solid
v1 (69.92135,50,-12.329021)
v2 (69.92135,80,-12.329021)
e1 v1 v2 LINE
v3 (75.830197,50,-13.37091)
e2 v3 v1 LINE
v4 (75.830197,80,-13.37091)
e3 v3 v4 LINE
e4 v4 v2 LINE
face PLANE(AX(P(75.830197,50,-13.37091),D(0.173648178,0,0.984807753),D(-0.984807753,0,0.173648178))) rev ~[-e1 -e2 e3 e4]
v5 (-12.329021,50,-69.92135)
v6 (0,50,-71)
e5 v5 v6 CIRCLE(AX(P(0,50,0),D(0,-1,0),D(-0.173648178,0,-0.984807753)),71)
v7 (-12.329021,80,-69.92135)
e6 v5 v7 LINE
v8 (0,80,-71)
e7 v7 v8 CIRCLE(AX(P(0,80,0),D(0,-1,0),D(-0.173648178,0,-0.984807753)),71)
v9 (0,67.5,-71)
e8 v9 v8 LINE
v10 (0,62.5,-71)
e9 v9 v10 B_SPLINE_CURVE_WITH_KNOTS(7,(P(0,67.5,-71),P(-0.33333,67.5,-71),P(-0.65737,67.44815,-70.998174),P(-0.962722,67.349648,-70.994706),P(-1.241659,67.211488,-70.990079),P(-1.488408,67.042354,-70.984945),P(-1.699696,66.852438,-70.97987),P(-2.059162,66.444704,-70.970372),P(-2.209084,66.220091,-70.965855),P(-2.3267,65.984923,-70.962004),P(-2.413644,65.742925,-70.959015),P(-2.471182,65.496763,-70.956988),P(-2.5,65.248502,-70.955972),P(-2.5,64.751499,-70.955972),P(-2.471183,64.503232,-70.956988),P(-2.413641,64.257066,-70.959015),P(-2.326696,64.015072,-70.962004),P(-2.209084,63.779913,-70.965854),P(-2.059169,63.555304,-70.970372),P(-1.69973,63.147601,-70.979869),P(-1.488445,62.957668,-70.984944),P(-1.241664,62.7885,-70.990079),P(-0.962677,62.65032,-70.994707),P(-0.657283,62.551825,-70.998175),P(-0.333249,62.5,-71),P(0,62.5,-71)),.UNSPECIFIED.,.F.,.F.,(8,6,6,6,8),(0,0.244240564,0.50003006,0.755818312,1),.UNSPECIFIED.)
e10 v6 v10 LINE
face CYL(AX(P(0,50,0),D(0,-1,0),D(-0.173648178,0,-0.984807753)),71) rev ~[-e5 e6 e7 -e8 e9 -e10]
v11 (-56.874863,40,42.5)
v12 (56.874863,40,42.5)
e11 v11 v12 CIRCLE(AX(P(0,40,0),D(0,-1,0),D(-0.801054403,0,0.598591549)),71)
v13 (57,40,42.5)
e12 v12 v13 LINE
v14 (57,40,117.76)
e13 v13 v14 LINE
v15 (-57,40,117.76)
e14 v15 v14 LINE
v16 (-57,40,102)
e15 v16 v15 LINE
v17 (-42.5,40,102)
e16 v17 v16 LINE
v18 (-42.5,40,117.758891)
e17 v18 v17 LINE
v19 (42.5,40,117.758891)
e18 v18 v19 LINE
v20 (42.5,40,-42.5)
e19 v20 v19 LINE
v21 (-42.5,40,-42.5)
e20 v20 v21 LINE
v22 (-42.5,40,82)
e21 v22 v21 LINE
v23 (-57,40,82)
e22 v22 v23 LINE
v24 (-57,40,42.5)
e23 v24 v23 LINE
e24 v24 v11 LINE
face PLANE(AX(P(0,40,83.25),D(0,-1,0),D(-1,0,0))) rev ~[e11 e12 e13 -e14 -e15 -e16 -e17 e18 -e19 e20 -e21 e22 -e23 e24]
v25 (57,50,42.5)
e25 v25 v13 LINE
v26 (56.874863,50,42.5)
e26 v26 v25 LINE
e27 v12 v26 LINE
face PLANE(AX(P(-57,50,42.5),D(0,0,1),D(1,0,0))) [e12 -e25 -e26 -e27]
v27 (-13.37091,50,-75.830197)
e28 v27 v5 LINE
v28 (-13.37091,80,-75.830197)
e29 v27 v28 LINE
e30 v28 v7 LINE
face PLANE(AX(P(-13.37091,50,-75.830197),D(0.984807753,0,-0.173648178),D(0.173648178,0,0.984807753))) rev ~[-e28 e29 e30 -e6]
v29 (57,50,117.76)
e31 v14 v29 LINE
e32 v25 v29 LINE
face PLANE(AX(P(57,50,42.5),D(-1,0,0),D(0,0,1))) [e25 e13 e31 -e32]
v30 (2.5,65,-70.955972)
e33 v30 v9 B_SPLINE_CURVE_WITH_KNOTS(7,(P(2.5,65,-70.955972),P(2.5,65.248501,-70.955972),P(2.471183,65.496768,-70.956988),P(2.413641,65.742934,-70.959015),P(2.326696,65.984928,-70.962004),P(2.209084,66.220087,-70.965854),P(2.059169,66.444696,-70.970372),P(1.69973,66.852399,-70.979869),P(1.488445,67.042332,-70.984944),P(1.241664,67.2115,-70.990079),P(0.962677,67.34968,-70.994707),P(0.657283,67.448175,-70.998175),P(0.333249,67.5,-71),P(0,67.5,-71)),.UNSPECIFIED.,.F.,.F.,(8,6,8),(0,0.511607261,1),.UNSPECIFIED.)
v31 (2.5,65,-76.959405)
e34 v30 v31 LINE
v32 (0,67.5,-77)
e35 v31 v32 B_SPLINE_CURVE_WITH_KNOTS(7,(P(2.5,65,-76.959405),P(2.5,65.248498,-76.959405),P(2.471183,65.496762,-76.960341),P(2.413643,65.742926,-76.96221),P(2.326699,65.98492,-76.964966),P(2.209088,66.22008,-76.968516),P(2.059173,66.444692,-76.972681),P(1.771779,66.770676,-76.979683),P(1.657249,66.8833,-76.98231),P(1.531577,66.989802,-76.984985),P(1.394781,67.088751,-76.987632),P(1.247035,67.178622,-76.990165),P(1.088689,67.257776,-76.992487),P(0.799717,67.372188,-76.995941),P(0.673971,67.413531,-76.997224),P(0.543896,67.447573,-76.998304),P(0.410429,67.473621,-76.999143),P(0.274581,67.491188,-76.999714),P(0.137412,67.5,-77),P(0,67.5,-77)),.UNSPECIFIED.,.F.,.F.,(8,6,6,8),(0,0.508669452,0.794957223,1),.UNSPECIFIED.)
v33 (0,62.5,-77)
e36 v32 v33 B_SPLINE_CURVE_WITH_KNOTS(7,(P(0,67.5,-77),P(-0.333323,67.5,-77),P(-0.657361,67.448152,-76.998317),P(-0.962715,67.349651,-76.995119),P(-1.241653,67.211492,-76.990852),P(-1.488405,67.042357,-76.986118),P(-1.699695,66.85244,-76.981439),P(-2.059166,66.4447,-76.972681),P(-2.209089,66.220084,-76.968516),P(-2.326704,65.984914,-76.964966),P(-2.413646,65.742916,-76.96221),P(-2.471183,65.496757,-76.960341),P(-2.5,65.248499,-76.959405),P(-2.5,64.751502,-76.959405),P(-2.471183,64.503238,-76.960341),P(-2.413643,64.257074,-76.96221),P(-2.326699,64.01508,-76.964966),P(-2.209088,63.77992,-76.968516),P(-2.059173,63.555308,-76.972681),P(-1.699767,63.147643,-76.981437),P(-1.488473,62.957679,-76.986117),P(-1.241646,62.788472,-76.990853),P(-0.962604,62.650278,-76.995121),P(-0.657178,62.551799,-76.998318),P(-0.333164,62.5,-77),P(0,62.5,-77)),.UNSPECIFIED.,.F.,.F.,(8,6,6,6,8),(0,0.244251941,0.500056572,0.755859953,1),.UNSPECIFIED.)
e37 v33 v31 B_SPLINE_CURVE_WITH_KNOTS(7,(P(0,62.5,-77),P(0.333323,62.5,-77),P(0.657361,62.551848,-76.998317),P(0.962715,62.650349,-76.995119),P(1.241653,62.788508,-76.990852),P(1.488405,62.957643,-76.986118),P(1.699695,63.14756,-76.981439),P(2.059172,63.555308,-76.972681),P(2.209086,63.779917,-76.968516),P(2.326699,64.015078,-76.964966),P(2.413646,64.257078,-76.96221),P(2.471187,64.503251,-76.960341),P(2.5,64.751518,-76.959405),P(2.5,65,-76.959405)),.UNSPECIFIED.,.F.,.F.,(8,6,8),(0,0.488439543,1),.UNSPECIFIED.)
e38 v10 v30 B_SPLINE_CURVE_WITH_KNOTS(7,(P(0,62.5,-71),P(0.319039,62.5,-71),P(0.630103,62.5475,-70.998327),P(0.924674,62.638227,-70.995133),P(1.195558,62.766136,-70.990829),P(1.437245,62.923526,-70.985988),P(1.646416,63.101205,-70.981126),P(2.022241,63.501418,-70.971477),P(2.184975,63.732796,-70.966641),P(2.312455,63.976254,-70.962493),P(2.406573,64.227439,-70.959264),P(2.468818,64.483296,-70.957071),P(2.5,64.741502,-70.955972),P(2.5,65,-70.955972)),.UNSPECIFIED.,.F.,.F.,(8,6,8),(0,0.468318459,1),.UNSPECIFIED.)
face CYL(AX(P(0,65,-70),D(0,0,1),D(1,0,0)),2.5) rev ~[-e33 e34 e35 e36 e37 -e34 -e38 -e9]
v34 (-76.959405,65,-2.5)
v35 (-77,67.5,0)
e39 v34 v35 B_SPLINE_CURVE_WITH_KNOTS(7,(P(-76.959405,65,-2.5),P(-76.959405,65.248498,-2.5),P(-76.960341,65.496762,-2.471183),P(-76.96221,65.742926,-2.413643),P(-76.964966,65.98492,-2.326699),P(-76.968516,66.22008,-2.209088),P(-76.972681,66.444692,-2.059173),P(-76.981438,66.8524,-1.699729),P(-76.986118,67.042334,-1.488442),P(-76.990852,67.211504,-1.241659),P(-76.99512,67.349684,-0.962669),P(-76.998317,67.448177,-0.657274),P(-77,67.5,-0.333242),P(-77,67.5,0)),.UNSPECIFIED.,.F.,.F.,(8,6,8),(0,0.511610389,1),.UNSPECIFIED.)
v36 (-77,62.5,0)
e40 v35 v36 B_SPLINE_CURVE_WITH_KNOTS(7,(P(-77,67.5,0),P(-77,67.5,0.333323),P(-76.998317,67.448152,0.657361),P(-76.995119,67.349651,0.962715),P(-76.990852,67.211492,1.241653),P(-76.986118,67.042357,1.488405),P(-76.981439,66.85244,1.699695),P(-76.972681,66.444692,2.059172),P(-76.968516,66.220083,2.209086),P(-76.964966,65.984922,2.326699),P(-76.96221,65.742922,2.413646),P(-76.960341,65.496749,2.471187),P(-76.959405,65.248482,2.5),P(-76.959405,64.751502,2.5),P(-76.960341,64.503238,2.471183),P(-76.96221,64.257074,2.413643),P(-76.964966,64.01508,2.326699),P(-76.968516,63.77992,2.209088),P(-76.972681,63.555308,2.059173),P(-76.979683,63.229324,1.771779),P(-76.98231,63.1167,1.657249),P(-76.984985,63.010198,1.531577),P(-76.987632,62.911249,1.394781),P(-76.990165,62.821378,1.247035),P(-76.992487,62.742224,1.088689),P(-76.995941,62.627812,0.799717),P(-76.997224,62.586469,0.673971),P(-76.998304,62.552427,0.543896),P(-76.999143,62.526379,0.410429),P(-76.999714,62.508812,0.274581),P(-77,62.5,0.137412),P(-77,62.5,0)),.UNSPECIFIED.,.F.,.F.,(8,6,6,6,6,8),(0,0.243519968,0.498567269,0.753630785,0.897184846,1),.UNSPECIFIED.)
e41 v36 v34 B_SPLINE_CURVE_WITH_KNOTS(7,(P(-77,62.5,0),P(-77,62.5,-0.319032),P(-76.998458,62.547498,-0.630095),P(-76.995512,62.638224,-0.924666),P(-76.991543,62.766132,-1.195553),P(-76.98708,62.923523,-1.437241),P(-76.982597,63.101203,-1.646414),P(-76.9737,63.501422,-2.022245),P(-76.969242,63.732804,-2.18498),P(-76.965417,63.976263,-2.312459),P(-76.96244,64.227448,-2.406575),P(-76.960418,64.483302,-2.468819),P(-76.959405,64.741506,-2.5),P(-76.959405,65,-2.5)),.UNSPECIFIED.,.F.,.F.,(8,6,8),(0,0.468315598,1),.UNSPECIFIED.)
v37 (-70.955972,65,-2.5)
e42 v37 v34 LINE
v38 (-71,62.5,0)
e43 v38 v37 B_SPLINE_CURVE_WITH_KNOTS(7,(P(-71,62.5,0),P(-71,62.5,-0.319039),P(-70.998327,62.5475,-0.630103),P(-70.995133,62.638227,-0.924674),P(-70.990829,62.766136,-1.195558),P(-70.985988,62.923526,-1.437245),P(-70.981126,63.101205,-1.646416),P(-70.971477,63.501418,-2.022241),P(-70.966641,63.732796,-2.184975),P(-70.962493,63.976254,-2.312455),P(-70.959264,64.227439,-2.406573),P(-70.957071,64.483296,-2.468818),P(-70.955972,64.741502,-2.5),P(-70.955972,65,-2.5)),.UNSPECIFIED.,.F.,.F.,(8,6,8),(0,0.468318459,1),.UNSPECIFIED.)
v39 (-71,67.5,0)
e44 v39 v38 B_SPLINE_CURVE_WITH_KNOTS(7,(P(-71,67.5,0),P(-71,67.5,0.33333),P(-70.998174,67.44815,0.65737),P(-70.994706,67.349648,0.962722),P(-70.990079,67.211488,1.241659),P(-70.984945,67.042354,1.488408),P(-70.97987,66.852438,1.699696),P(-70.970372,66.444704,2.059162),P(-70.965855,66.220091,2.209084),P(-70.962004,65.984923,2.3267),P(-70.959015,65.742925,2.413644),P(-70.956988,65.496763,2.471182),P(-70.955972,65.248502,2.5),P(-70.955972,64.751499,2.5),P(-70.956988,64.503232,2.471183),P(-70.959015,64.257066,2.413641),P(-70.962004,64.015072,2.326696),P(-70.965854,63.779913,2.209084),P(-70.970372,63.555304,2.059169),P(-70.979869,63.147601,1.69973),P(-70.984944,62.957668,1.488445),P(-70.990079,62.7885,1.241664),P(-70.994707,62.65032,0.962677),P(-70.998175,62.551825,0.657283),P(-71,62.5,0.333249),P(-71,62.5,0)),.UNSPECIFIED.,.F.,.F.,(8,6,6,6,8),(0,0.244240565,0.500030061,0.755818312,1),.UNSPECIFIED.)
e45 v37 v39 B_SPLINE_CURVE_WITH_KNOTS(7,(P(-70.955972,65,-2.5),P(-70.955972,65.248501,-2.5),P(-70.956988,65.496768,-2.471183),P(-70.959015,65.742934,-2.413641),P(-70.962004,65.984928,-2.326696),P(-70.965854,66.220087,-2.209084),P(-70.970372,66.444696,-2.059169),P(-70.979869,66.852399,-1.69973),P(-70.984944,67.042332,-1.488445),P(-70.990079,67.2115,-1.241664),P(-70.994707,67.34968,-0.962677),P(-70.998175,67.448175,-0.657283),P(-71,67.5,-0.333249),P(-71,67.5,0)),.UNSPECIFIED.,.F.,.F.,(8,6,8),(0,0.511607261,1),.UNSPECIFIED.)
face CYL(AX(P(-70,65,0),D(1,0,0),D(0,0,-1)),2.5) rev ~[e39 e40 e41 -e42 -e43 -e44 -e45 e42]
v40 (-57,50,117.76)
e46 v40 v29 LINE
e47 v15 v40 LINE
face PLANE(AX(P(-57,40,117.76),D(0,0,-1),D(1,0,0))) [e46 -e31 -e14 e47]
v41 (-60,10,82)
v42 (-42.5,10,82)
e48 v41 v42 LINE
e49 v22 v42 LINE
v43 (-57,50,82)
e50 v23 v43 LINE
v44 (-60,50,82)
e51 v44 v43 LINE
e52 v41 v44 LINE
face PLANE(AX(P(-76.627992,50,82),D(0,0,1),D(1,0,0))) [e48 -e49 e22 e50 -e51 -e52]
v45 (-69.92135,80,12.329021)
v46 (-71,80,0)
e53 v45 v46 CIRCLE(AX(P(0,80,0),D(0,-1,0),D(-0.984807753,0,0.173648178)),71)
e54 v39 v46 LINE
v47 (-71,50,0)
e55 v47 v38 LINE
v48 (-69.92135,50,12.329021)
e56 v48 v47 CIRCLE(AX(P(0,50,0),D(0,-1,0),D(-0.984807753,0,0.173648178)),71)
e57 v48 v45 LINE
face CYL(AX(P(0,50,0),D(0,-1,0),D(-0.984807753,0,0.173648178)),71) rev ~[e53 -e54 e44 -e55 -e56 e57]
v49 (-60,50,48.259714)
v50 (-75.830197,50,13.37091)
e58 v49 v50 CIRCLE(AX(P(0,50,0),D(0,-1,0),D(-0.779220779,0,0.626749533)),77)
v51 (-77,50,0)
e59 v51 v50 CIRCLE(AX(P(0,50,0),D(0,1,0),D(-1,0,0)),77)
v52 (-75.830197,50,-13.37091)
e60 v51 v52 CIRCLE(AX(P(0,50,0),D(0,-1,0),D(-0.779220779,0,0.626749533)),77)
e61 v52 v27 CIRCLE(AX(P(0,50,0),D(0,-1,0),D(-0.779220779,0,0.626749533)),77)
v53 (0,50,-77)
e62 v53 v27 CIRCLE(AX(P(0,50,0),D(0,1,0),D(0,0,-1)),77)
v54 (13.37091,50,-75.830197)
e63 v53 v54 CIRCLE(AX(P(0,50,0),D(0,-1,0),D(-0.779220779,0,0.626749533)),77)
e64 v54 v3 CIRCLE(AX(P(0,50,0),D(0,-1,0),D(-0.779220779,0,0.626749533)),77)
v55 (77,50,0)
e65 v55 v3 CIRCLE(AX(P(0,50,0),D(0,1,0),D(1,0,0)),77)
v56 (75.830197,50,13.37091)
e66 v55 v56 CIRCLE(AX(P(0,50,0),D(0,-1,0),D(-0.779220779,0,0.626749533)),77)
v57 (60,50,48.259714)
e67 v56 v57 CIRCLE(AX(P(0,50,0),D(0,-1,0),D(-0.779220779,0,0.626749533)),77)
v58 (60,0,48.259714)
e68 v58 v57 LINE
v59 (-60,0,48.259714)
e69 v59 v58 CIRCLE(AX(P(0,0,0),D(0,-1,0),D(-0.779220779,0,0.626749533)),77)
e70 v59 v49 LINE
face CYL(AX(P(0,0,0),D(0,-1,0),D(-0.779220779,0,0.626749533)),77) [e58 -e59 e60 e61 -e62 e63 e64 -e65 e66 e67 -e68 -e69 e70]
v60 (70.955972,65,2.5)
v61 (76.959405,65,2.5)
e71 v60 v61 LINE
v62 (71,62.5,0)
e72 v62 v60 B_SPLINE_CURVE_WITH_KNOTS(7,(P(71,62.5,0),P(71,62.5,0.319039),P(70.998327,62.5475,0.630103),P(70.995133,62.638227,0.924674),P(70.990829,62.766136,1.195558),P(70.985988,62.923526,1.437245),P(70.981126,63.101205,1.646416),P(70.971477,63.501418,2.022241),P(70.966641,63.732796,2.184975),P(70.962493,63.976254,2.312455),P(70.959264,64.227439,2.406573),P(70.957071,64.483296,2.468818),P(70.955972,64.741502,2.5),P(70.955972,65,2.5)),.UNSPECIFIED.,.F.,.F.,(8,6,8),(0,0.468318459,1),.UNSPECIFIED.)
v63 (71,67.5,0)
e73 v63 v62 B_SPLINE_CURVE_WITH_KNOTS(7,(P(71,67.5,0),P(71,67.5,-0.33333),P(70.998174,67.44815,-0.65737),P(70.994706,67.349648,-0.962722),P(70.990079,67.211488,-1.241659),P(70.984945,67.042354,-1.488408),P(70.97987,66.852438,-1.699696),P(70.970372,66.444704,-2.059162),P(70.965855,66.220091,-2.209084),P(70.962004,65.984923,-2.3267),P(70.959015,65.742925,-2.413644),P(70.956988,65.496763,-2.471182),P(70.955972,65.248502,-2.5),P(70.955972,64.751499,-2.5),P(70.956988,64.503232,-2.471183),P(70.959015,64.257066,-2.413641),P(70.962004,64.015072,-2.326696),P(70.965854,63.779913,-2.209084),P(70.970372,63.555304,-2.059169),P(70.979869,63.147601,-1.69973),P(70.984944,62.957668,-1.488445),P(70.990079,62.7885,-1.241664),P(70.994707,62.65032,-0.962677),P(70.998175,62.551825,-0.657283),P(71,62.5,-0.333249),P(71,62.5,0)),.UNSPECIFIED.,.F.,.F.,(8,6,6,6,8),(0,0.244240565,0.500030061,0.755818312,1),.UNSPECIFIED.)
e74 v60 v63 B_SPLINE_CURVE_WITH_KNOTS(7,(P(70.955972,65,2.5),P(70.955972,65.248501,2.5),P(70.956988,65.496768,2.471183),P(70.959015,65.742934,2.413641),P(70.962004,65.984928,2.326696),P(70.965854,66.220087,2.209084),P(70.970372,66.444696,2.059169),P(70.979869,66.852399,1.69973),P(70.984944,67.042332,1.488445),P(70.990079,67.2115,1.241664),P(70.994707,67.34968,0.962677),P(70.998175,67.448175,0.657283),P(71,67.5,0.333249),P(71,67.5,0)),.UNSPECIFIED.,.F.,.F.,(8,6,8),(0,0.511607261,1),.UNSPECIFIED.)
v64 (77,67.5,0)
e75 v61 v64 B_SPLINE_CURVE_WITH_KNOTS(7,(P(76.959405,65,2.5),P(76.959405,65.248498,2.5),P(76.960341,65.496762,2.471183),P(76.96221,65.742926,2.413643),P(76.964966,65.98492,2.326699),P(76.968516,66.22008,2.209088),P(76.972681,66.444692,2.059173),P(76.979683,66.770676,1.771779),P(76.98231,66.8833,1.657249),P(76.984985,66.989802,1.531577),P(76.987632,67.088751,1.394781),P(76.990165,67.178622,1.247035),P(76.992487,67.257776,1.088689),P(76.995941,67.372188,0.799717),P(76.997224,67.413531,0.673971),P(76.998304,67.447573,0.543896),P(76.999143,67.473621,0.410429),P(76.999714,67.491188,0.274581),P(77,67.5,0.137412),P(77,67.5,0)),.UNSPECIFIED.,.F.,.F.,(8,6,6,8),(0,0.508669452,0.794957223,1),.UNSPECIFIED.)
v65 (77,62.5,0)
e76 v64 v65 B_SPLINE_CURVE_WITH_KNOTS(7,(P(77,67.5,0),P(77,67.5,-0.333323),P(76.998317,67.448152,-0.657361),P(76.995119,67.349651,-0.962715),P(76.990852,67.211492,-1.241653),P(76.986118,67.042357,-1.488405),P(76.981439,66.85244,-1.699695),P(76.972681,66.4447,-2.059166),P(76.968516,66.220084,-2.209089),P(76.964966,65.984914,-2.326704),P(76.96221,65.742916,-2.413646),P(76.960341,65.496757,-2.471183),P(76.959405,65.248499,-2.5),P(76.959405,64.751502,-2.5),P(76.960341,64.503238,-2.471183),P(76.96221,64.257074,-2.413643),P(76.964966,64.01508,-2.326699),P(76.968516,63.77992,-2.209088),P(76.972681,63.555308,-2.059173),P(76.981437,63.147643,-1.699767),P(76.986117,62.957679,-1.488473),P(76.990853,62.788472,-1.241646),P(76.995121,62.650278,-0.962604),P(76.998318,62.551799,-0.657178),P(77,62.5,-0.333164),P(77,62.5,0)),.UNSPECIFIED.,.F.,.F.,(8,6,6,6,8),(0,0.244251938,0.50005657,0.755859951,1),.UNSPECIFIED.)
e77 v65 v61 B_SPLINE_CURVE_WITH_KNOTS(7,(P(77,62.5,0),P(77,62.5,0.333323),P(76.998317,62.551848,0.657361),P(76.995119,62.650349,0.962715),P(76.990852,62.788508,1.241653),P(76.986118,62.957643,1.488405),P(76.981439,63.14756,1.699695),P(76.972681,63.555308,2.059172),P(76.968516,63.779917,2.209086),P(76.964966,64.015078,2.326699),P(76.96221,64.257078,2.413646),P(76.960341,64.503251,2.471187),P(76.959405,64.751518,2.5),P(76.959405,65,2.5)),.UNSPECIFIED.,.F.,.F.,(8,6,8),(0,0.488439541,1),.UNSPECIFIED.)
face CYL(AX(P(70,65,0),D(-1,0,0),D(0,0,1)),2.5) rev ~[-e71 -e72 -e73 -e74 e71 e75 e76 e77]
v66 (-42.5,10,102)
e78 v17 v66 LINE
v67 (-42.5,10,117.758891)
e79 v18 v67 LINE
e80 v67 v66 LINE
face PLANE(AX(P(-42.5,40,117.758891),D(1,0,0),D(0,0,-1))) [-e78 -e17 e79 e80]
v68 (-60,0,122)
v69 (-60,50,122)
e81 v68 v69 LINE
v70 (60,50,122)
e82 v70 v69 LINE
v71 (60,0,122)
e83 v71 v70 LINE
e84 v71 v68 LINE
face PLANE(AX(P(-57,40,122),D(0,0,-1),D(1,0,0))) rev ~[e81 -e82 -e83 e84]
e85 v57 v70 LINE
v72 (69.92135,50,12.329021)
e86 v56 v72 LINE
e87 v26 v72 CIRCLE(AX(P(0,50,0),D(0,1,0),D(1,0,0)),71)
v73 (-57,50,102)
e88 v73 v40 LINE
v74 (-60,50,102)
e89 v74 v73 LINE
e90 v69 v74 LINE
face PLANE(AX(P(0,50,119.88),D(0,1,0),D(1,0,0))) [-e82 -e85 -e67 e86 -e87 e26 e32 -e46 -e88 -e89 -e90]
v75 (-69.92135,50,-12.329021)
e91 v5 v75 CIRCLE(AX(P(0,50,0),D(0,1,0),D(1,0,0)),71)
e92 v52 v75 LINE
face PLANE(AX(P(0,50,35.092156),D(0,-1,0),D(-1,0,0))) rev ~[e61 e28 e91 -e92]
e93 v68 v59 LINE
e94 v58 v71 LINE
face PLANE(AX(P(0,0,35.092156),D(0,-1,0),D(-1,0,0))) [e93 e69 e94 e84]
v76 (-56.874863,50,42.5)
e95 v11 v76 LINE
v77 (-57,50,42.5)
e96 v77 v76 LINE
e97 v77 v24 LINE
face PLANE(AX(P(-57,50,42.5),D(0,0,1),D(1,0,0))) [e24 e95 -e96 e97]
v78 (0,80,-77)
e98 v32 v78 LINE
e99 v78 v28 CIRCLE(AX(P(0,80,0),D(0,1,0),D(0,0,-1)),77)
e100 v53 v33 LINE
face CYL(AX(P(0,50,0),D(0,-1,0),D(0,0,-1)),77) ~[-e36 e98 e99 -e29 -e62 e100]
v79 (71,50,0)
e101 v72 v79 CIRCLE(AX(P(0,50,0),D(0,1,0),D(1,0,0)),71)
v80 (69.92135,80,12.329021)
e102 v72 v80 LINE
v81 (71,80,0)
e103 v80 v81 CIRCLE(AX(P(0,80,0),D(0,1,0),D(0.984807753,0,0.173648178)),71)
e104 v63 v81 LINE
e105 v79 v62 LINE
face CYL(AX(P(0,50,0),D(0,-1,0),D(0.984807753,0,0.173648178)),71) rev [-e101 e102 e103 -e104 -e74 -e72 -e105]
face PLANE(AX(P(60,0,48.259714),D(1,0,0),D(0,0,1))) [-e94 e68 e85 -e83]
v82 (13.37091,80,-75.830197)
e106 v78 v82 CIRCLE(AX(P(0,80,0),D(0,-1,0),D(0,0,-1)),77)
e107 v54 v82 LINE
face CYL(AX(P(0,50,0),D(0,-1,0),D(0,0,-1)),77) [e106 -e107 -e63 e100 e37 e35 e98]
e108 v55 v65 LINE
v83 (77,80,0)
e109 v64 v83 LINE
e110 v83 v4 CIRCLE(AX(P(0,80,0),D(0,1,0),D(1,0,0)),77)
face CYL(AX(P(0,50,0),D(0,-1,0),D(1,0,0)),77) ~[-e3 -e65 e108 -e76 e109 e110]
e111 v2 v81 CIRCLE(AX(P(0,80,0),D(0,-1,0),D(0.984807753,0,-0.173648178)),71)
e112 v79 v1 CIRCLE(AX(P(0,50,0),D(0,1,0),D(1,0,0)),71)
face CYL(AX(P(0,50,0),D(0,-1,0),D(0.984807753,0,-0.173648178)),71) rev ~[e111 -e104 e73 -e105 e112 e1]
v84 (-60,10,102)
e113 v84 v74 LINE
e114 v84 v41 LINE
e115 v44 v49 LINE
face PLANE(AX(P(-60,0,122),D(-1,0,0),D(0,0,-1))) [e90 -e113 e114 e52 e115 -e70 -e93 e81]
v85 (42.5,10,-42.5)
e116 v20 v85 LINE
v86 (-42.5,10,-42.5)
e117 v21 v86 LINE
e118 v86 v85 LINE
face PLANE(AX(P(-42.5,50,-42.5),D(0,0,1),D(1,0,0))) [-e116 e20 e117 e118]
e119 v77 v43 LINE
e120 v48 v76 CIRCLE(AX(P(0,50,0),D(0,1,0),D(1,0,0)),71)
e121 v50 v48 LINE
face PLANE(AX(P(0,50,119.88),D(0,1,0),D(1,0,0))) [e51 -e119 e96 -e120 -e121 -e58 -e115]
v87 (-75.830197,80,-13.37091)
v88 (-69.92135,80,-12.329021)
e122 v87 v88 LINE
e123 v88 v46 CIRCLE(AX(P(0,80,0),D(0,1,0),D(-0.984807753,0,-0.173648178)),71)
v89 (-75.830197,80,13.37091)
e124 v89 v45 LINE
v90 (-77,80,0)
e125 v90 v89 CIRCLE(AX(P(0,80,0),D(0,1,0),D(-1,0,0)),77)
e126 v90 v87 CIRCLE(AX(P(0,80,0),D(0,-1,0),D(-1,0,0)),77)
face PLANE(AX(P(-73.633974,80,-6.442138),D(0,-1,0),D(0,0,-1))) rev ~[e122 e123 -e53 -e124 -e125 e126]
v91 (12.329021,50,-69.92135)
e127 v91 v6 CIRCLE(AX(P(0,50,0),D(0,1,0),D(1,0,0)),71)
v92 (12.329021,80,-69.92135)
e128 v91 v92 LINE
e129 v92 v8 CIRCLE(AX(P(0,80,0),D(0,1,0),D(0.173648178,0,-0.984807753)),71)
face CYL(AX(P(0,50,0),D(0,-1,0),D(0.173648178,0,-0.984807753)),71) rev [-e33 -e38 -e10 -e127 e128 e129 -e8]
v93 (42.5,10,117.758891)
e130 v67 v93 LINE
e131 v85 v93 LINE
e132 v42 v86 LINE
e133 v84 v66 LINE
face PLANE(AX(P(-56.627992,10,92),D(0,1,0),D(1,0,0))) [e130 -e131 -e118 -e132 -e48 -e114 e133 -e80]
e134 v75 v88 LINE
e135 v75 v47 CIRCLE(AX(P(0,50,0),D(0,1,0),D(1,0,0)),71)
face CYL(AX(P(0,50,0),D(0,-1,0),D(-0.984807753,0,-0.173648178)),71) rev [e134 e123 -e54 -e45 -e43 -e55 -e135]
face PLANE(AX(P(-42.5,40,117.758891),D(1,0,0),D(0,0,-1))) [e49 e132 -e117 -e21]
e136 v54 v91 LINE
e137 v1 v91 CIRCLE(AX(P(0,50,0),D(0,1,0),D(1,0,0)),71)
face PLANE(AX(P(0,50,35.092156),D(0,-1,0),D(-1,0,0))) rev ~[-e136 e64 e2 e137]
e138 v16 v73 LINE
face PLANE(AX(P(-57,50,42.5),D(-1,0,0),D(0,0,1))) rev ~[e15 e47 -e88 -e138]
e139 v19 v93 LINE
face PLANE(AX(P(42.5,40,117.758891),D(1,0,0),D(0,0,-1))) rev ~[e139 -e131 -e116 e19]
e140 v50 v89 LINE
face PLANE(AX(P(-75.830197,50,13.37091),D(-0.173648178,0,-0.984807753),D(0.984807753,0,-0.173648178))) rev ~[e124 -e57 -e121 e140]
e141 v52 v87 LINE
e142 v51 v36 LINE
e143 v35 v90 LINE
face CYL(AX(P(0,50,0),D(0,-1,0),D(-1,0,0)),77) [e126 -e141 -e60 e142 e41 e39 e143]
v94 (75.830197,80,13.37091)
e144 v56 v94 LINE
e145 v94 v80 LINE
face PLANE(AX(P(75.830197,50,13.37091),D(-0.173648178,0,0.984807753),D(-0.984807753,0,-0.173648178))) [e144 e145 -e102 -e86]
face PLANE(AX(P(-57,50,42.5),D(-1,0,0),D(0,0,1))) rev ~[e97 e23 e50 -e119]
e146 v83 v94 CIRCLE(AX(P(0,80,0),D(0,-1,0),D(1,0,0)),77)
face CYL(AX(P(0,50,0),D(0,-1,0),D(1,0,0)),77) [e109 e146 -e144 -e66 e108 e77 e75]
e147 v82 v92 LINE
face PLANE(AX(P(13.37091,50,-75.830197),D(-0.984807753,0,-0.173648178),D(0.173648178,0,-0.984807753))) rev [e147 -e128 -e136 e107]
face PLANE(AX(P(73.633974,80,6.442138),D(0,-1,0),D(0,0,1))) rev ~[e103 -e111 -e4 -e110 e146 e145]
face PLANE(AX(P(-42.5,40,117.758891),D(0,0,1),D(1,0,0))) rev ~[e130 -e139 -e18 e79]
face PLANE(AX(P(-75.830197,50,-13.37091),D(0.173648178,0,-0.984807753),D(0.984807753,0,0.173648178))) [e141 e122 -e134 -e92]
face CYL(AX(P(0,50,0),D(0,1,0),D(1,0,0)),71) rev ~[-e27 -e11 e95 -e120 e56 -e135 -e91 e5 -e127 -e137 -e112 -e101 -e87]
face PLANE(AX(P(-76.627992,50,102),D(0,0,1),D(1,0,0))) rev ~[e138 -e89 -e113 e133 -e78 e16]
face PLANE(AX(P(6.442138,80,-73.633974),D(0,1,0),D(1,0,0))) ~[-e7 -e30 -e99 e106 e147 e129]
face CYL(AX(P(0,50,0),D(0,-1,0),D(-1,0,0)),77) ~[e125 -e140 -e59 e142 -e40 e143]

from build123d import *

# Parameters (mm, degrees)
EXTRUDE_1_DEPTH                 = 50
SKETCH_2_W                      = 85
SKETCH_2_H                      = 85
CUT_EXTRUDE_1_DEPTH             = 40
SKETCH_3_R                      = 71
CUT_EXTRUDE_2_DEPTH             = 10
EXTRUDE_2_DEPTH                 = 30
PATTERN_CIRCULAR_1_COUNT        = 4
PATTERN_CIRCULAR_1_COPY_1_DEPTH = 30
PATTERN_CIRCULAR_1_COPY_2_DEPTH = 30
SKETCH_8_R                      = 2.5
CUT_EXTRUDE_3_DEPTH             = 30
PATTERN_CIRCULAR_2_COUNT        = 4
CUT_EXTRUDE_4_DEPTH             = 10
SKETCH_10_W                     = 85
SKETCH_10_H                     = 75.258890594
CUT_EXTRUDE_6_DEPTH             = 30
SKETCH_11_W                     = 114
SKETCH_11_H                     = 4.24
EXTRUDE_3_DEPTH                 = 10
SKETCH_12_W                     = 40
SKETCH_12_H                     = 20
CUT_EXTRUDE_7_DEPTH             = 40


with BuildPart() as part:
    # Эскиз1 → Бобышка-Вытянуть1 (new body)
    with BuildSketch(Plane(origin=(0, 0, 0), x_dir=(1, 0, 0), z_dir=(0, 1, 0))):
        with BuildLine():
            Line((-60, -74.613885), (-60, -48.259714048))
            ThreePointArc((-60, -48.259714048), (0, 77), (60, -48.259714048))
            Line((60, -48.259714048), (60, -74.613885))
            Line((60, -74.613885), (60, -122))
            Line((60, -122), (-60, -122))
            Line((-60, -122), (-60, -74.613885))
        make_face()
    extrude(amount=EXTRUDE_1_DEPTH)

    # Эскиз2 → Вырез-Вытянуть1 (cut)
    with BuildSketch(Plane(origin=(0, 50, 0), x_dir=(1, 0, 0), z_dir=(0, 1, 0))):
        Rectangle(SKETCH_2_W, SKETCH_2_H)
    extrude(amount=-CUT_EXTRUDE_1_DEPTH, mode=Mode.SUBTRACT)

    # Эскиз3 → Вырез-Вытянуть2 (cut)
    with BuildSketch(Plane(origin=(0, 50, 0), x_dir=(1, 0, 0), z_dir=(0, 1, 0))):
        Circle(SKETCH_3_R)
    extrude(amount=-CUT_EXTRUDE_2_DEPTH, mode=Mode.SUBTRACT)

    # Эскиз4 → Бобышка-Вытянуть2 (add)
    with BuildSketch(Plane(origin=(0, 50, 0), x_dir=(1, 0, 0), z_dir=(0, 1, 0))):
        with BuildLine():
            Line((0, 71), (0, 77))
            ThreePointArc((0, 77), (-6.710992192, 76.706991753), (-13.37090968, 75.830196982))
            Line((-13.37090968, 75.830196982), (-12.329020614, 69.921350464))
            ThreePointArc((-12.329020614, 69.921350464), (-6.188057735, 70.729823565), (0, 71))
        make_face()
    extrude_2 = extrude(amount=EXTRUDE_2_DEPTH)

    # Зеркальное отражение1: Бобышка-Вытянуть2 across plane
    add(extrude_2.mirror(Plane(origin=(0, 0, 0), x_dir=(0, 0, 1), z_dir=(1, 0, 0))))

    # Круговой массив1: Бобышка-Вытянуть2 ×4 about axis, 1 skipped
    pattern_circular_1_axis = Axis((0, 0, 0), (0, 1, 0))
    add([extrude_2.rotate(pattern_circular_1_axis, i * 360 / PATTERN_CIRCULAR_1_COUNT) for i in range(1, PATTERN_CIRCULAR_1_COUNT) if i not in (2,)])

    # Круговой массив1 copy 1 sketch → Круговой массив1 copy 1 (add)
    with BuildSketch(Plane.ZX.offset(50)):
        with BuildLine():
            Line((0, -71), (0, -77))
            ThreePointArc((0, -77), (-6.710992192, -76.706991753), (-13.37090968, -75.830196982))
            Line((-13.37090968, -75.830196982), (-12.329020614, -69.921350464))
            ThreePointArc((-12.329020614, -69.921350464), (-6.188057735, -70.729823565), (0, -71))
        make_face()
    extrude(amount=PATTERN_CIRCULAR_1_COPY_1_DEPTH)

    # Круговой массив1 copy 2 sketch → Круговой массив1 copy 2 (add)
    with BuildSketch(Plane(origin=(0, 50, 0), x_dir=(0, 0, -1), z_dir=(0, 1, 0))):
        with BuildLine():
            Line((0, -71), (0, -77))
            ThreePointArc((0, -77), (-6.710992192, -76.706991753), (-13.37090968, -75.830196982))
            Line((-13.37090968, -75.830196982), (-12.329020614, -69.921350464))
            ThreePointArc((-12.329020614, -69.921350464), (-6.188057735, -70.729823565), (0, -71))
        make_face()
    extrude(amount=PATTERN_CIRCULAR_1_COPY_2_DEPTH)

    # Эскиз8 → Вырез-Вытянуть3 (cut)
    with BuildSketch(Plane.XY.offset(-70)):
        with Locations((0, 65)):
            Circle(SKETCH_8_R)
    cut_extrude_3 = extrude(amount=-CUT_EXTRUDE_3_DEPTH, mode=Mode.SUBTRACT)

    # Круговой массив2: Вырез-Вытянуть3 ×4 about axis
    pattern_circular_2_axis = Axis((0, 0, 0), (0, 1, 0))
    for i in range(1, PATTERN_CIRCULAR_2_COUNT):
        add(cut_extrude_3.rotate(pattern_circular_2_axis, i * 360 / PATTERN_CIRCULAR_2_COUNT), mode=Mode.SUBTRACT)

    # Эскиз9 → Вырез-Вытянуть4 (cut)
    with BuildSketch(Plane(origin=(0, 50, 0), x_dir=(1, 0, 0), z_dir=(0, 1, 0))):
        Polygon((-57, -68), (-57, -42.5), (57, -42.5), (57, -124), (-57, -124), align=None)
    extrude(amount=-CUT_EXTRUDE_4_DEPTH, mode=Mode.SUBTRACT)

    # Эскиз10 → Вырез-Вытянуть6 (cut)
    with BuildSketch(Plane(origin=(0, 40, 0), x_dir=(1, 0, 0), z_dir=(0, 1, 0))):
        with Locations((0, -80.129445297)):
            Rectangle(SKETCH_10_W, SKETCH_10_H)
    extrude(amount=-CUT_EXTRUDE_6_DEPTH, mode=Mode.SUBTRACT)

    # Эскиз11 → Бобышка-Вытянуть3 (add)
    with BuildSketch(Plane(origin=(0, 40, 0), x_dir=(1, 0, 0), z_dir=(0, 1, 0))):
        with Locations((0, -119.88)):
            Rectangle(SKETCH_11_W, SKETCH_11_H)
    extrude(amount=EXTRUDE_3_DEPTH)

    # Эскиз12 → Вырез-Вытянуть7 (cut)
    with BuildSketch(Plane(origin=(0, 50, 0), x_dir=(1, 0, 0), z_dir=(0, 1, 0))):
        with Locations((-56.627991745, -92)):
            Rectangle(SKETCH_12_W, SKETCH_12_H)
    extrude(amount=-CUT_EXTRUDE_7_DEPTH, mode=Mode.SUBTRACT)


solid = part.part
